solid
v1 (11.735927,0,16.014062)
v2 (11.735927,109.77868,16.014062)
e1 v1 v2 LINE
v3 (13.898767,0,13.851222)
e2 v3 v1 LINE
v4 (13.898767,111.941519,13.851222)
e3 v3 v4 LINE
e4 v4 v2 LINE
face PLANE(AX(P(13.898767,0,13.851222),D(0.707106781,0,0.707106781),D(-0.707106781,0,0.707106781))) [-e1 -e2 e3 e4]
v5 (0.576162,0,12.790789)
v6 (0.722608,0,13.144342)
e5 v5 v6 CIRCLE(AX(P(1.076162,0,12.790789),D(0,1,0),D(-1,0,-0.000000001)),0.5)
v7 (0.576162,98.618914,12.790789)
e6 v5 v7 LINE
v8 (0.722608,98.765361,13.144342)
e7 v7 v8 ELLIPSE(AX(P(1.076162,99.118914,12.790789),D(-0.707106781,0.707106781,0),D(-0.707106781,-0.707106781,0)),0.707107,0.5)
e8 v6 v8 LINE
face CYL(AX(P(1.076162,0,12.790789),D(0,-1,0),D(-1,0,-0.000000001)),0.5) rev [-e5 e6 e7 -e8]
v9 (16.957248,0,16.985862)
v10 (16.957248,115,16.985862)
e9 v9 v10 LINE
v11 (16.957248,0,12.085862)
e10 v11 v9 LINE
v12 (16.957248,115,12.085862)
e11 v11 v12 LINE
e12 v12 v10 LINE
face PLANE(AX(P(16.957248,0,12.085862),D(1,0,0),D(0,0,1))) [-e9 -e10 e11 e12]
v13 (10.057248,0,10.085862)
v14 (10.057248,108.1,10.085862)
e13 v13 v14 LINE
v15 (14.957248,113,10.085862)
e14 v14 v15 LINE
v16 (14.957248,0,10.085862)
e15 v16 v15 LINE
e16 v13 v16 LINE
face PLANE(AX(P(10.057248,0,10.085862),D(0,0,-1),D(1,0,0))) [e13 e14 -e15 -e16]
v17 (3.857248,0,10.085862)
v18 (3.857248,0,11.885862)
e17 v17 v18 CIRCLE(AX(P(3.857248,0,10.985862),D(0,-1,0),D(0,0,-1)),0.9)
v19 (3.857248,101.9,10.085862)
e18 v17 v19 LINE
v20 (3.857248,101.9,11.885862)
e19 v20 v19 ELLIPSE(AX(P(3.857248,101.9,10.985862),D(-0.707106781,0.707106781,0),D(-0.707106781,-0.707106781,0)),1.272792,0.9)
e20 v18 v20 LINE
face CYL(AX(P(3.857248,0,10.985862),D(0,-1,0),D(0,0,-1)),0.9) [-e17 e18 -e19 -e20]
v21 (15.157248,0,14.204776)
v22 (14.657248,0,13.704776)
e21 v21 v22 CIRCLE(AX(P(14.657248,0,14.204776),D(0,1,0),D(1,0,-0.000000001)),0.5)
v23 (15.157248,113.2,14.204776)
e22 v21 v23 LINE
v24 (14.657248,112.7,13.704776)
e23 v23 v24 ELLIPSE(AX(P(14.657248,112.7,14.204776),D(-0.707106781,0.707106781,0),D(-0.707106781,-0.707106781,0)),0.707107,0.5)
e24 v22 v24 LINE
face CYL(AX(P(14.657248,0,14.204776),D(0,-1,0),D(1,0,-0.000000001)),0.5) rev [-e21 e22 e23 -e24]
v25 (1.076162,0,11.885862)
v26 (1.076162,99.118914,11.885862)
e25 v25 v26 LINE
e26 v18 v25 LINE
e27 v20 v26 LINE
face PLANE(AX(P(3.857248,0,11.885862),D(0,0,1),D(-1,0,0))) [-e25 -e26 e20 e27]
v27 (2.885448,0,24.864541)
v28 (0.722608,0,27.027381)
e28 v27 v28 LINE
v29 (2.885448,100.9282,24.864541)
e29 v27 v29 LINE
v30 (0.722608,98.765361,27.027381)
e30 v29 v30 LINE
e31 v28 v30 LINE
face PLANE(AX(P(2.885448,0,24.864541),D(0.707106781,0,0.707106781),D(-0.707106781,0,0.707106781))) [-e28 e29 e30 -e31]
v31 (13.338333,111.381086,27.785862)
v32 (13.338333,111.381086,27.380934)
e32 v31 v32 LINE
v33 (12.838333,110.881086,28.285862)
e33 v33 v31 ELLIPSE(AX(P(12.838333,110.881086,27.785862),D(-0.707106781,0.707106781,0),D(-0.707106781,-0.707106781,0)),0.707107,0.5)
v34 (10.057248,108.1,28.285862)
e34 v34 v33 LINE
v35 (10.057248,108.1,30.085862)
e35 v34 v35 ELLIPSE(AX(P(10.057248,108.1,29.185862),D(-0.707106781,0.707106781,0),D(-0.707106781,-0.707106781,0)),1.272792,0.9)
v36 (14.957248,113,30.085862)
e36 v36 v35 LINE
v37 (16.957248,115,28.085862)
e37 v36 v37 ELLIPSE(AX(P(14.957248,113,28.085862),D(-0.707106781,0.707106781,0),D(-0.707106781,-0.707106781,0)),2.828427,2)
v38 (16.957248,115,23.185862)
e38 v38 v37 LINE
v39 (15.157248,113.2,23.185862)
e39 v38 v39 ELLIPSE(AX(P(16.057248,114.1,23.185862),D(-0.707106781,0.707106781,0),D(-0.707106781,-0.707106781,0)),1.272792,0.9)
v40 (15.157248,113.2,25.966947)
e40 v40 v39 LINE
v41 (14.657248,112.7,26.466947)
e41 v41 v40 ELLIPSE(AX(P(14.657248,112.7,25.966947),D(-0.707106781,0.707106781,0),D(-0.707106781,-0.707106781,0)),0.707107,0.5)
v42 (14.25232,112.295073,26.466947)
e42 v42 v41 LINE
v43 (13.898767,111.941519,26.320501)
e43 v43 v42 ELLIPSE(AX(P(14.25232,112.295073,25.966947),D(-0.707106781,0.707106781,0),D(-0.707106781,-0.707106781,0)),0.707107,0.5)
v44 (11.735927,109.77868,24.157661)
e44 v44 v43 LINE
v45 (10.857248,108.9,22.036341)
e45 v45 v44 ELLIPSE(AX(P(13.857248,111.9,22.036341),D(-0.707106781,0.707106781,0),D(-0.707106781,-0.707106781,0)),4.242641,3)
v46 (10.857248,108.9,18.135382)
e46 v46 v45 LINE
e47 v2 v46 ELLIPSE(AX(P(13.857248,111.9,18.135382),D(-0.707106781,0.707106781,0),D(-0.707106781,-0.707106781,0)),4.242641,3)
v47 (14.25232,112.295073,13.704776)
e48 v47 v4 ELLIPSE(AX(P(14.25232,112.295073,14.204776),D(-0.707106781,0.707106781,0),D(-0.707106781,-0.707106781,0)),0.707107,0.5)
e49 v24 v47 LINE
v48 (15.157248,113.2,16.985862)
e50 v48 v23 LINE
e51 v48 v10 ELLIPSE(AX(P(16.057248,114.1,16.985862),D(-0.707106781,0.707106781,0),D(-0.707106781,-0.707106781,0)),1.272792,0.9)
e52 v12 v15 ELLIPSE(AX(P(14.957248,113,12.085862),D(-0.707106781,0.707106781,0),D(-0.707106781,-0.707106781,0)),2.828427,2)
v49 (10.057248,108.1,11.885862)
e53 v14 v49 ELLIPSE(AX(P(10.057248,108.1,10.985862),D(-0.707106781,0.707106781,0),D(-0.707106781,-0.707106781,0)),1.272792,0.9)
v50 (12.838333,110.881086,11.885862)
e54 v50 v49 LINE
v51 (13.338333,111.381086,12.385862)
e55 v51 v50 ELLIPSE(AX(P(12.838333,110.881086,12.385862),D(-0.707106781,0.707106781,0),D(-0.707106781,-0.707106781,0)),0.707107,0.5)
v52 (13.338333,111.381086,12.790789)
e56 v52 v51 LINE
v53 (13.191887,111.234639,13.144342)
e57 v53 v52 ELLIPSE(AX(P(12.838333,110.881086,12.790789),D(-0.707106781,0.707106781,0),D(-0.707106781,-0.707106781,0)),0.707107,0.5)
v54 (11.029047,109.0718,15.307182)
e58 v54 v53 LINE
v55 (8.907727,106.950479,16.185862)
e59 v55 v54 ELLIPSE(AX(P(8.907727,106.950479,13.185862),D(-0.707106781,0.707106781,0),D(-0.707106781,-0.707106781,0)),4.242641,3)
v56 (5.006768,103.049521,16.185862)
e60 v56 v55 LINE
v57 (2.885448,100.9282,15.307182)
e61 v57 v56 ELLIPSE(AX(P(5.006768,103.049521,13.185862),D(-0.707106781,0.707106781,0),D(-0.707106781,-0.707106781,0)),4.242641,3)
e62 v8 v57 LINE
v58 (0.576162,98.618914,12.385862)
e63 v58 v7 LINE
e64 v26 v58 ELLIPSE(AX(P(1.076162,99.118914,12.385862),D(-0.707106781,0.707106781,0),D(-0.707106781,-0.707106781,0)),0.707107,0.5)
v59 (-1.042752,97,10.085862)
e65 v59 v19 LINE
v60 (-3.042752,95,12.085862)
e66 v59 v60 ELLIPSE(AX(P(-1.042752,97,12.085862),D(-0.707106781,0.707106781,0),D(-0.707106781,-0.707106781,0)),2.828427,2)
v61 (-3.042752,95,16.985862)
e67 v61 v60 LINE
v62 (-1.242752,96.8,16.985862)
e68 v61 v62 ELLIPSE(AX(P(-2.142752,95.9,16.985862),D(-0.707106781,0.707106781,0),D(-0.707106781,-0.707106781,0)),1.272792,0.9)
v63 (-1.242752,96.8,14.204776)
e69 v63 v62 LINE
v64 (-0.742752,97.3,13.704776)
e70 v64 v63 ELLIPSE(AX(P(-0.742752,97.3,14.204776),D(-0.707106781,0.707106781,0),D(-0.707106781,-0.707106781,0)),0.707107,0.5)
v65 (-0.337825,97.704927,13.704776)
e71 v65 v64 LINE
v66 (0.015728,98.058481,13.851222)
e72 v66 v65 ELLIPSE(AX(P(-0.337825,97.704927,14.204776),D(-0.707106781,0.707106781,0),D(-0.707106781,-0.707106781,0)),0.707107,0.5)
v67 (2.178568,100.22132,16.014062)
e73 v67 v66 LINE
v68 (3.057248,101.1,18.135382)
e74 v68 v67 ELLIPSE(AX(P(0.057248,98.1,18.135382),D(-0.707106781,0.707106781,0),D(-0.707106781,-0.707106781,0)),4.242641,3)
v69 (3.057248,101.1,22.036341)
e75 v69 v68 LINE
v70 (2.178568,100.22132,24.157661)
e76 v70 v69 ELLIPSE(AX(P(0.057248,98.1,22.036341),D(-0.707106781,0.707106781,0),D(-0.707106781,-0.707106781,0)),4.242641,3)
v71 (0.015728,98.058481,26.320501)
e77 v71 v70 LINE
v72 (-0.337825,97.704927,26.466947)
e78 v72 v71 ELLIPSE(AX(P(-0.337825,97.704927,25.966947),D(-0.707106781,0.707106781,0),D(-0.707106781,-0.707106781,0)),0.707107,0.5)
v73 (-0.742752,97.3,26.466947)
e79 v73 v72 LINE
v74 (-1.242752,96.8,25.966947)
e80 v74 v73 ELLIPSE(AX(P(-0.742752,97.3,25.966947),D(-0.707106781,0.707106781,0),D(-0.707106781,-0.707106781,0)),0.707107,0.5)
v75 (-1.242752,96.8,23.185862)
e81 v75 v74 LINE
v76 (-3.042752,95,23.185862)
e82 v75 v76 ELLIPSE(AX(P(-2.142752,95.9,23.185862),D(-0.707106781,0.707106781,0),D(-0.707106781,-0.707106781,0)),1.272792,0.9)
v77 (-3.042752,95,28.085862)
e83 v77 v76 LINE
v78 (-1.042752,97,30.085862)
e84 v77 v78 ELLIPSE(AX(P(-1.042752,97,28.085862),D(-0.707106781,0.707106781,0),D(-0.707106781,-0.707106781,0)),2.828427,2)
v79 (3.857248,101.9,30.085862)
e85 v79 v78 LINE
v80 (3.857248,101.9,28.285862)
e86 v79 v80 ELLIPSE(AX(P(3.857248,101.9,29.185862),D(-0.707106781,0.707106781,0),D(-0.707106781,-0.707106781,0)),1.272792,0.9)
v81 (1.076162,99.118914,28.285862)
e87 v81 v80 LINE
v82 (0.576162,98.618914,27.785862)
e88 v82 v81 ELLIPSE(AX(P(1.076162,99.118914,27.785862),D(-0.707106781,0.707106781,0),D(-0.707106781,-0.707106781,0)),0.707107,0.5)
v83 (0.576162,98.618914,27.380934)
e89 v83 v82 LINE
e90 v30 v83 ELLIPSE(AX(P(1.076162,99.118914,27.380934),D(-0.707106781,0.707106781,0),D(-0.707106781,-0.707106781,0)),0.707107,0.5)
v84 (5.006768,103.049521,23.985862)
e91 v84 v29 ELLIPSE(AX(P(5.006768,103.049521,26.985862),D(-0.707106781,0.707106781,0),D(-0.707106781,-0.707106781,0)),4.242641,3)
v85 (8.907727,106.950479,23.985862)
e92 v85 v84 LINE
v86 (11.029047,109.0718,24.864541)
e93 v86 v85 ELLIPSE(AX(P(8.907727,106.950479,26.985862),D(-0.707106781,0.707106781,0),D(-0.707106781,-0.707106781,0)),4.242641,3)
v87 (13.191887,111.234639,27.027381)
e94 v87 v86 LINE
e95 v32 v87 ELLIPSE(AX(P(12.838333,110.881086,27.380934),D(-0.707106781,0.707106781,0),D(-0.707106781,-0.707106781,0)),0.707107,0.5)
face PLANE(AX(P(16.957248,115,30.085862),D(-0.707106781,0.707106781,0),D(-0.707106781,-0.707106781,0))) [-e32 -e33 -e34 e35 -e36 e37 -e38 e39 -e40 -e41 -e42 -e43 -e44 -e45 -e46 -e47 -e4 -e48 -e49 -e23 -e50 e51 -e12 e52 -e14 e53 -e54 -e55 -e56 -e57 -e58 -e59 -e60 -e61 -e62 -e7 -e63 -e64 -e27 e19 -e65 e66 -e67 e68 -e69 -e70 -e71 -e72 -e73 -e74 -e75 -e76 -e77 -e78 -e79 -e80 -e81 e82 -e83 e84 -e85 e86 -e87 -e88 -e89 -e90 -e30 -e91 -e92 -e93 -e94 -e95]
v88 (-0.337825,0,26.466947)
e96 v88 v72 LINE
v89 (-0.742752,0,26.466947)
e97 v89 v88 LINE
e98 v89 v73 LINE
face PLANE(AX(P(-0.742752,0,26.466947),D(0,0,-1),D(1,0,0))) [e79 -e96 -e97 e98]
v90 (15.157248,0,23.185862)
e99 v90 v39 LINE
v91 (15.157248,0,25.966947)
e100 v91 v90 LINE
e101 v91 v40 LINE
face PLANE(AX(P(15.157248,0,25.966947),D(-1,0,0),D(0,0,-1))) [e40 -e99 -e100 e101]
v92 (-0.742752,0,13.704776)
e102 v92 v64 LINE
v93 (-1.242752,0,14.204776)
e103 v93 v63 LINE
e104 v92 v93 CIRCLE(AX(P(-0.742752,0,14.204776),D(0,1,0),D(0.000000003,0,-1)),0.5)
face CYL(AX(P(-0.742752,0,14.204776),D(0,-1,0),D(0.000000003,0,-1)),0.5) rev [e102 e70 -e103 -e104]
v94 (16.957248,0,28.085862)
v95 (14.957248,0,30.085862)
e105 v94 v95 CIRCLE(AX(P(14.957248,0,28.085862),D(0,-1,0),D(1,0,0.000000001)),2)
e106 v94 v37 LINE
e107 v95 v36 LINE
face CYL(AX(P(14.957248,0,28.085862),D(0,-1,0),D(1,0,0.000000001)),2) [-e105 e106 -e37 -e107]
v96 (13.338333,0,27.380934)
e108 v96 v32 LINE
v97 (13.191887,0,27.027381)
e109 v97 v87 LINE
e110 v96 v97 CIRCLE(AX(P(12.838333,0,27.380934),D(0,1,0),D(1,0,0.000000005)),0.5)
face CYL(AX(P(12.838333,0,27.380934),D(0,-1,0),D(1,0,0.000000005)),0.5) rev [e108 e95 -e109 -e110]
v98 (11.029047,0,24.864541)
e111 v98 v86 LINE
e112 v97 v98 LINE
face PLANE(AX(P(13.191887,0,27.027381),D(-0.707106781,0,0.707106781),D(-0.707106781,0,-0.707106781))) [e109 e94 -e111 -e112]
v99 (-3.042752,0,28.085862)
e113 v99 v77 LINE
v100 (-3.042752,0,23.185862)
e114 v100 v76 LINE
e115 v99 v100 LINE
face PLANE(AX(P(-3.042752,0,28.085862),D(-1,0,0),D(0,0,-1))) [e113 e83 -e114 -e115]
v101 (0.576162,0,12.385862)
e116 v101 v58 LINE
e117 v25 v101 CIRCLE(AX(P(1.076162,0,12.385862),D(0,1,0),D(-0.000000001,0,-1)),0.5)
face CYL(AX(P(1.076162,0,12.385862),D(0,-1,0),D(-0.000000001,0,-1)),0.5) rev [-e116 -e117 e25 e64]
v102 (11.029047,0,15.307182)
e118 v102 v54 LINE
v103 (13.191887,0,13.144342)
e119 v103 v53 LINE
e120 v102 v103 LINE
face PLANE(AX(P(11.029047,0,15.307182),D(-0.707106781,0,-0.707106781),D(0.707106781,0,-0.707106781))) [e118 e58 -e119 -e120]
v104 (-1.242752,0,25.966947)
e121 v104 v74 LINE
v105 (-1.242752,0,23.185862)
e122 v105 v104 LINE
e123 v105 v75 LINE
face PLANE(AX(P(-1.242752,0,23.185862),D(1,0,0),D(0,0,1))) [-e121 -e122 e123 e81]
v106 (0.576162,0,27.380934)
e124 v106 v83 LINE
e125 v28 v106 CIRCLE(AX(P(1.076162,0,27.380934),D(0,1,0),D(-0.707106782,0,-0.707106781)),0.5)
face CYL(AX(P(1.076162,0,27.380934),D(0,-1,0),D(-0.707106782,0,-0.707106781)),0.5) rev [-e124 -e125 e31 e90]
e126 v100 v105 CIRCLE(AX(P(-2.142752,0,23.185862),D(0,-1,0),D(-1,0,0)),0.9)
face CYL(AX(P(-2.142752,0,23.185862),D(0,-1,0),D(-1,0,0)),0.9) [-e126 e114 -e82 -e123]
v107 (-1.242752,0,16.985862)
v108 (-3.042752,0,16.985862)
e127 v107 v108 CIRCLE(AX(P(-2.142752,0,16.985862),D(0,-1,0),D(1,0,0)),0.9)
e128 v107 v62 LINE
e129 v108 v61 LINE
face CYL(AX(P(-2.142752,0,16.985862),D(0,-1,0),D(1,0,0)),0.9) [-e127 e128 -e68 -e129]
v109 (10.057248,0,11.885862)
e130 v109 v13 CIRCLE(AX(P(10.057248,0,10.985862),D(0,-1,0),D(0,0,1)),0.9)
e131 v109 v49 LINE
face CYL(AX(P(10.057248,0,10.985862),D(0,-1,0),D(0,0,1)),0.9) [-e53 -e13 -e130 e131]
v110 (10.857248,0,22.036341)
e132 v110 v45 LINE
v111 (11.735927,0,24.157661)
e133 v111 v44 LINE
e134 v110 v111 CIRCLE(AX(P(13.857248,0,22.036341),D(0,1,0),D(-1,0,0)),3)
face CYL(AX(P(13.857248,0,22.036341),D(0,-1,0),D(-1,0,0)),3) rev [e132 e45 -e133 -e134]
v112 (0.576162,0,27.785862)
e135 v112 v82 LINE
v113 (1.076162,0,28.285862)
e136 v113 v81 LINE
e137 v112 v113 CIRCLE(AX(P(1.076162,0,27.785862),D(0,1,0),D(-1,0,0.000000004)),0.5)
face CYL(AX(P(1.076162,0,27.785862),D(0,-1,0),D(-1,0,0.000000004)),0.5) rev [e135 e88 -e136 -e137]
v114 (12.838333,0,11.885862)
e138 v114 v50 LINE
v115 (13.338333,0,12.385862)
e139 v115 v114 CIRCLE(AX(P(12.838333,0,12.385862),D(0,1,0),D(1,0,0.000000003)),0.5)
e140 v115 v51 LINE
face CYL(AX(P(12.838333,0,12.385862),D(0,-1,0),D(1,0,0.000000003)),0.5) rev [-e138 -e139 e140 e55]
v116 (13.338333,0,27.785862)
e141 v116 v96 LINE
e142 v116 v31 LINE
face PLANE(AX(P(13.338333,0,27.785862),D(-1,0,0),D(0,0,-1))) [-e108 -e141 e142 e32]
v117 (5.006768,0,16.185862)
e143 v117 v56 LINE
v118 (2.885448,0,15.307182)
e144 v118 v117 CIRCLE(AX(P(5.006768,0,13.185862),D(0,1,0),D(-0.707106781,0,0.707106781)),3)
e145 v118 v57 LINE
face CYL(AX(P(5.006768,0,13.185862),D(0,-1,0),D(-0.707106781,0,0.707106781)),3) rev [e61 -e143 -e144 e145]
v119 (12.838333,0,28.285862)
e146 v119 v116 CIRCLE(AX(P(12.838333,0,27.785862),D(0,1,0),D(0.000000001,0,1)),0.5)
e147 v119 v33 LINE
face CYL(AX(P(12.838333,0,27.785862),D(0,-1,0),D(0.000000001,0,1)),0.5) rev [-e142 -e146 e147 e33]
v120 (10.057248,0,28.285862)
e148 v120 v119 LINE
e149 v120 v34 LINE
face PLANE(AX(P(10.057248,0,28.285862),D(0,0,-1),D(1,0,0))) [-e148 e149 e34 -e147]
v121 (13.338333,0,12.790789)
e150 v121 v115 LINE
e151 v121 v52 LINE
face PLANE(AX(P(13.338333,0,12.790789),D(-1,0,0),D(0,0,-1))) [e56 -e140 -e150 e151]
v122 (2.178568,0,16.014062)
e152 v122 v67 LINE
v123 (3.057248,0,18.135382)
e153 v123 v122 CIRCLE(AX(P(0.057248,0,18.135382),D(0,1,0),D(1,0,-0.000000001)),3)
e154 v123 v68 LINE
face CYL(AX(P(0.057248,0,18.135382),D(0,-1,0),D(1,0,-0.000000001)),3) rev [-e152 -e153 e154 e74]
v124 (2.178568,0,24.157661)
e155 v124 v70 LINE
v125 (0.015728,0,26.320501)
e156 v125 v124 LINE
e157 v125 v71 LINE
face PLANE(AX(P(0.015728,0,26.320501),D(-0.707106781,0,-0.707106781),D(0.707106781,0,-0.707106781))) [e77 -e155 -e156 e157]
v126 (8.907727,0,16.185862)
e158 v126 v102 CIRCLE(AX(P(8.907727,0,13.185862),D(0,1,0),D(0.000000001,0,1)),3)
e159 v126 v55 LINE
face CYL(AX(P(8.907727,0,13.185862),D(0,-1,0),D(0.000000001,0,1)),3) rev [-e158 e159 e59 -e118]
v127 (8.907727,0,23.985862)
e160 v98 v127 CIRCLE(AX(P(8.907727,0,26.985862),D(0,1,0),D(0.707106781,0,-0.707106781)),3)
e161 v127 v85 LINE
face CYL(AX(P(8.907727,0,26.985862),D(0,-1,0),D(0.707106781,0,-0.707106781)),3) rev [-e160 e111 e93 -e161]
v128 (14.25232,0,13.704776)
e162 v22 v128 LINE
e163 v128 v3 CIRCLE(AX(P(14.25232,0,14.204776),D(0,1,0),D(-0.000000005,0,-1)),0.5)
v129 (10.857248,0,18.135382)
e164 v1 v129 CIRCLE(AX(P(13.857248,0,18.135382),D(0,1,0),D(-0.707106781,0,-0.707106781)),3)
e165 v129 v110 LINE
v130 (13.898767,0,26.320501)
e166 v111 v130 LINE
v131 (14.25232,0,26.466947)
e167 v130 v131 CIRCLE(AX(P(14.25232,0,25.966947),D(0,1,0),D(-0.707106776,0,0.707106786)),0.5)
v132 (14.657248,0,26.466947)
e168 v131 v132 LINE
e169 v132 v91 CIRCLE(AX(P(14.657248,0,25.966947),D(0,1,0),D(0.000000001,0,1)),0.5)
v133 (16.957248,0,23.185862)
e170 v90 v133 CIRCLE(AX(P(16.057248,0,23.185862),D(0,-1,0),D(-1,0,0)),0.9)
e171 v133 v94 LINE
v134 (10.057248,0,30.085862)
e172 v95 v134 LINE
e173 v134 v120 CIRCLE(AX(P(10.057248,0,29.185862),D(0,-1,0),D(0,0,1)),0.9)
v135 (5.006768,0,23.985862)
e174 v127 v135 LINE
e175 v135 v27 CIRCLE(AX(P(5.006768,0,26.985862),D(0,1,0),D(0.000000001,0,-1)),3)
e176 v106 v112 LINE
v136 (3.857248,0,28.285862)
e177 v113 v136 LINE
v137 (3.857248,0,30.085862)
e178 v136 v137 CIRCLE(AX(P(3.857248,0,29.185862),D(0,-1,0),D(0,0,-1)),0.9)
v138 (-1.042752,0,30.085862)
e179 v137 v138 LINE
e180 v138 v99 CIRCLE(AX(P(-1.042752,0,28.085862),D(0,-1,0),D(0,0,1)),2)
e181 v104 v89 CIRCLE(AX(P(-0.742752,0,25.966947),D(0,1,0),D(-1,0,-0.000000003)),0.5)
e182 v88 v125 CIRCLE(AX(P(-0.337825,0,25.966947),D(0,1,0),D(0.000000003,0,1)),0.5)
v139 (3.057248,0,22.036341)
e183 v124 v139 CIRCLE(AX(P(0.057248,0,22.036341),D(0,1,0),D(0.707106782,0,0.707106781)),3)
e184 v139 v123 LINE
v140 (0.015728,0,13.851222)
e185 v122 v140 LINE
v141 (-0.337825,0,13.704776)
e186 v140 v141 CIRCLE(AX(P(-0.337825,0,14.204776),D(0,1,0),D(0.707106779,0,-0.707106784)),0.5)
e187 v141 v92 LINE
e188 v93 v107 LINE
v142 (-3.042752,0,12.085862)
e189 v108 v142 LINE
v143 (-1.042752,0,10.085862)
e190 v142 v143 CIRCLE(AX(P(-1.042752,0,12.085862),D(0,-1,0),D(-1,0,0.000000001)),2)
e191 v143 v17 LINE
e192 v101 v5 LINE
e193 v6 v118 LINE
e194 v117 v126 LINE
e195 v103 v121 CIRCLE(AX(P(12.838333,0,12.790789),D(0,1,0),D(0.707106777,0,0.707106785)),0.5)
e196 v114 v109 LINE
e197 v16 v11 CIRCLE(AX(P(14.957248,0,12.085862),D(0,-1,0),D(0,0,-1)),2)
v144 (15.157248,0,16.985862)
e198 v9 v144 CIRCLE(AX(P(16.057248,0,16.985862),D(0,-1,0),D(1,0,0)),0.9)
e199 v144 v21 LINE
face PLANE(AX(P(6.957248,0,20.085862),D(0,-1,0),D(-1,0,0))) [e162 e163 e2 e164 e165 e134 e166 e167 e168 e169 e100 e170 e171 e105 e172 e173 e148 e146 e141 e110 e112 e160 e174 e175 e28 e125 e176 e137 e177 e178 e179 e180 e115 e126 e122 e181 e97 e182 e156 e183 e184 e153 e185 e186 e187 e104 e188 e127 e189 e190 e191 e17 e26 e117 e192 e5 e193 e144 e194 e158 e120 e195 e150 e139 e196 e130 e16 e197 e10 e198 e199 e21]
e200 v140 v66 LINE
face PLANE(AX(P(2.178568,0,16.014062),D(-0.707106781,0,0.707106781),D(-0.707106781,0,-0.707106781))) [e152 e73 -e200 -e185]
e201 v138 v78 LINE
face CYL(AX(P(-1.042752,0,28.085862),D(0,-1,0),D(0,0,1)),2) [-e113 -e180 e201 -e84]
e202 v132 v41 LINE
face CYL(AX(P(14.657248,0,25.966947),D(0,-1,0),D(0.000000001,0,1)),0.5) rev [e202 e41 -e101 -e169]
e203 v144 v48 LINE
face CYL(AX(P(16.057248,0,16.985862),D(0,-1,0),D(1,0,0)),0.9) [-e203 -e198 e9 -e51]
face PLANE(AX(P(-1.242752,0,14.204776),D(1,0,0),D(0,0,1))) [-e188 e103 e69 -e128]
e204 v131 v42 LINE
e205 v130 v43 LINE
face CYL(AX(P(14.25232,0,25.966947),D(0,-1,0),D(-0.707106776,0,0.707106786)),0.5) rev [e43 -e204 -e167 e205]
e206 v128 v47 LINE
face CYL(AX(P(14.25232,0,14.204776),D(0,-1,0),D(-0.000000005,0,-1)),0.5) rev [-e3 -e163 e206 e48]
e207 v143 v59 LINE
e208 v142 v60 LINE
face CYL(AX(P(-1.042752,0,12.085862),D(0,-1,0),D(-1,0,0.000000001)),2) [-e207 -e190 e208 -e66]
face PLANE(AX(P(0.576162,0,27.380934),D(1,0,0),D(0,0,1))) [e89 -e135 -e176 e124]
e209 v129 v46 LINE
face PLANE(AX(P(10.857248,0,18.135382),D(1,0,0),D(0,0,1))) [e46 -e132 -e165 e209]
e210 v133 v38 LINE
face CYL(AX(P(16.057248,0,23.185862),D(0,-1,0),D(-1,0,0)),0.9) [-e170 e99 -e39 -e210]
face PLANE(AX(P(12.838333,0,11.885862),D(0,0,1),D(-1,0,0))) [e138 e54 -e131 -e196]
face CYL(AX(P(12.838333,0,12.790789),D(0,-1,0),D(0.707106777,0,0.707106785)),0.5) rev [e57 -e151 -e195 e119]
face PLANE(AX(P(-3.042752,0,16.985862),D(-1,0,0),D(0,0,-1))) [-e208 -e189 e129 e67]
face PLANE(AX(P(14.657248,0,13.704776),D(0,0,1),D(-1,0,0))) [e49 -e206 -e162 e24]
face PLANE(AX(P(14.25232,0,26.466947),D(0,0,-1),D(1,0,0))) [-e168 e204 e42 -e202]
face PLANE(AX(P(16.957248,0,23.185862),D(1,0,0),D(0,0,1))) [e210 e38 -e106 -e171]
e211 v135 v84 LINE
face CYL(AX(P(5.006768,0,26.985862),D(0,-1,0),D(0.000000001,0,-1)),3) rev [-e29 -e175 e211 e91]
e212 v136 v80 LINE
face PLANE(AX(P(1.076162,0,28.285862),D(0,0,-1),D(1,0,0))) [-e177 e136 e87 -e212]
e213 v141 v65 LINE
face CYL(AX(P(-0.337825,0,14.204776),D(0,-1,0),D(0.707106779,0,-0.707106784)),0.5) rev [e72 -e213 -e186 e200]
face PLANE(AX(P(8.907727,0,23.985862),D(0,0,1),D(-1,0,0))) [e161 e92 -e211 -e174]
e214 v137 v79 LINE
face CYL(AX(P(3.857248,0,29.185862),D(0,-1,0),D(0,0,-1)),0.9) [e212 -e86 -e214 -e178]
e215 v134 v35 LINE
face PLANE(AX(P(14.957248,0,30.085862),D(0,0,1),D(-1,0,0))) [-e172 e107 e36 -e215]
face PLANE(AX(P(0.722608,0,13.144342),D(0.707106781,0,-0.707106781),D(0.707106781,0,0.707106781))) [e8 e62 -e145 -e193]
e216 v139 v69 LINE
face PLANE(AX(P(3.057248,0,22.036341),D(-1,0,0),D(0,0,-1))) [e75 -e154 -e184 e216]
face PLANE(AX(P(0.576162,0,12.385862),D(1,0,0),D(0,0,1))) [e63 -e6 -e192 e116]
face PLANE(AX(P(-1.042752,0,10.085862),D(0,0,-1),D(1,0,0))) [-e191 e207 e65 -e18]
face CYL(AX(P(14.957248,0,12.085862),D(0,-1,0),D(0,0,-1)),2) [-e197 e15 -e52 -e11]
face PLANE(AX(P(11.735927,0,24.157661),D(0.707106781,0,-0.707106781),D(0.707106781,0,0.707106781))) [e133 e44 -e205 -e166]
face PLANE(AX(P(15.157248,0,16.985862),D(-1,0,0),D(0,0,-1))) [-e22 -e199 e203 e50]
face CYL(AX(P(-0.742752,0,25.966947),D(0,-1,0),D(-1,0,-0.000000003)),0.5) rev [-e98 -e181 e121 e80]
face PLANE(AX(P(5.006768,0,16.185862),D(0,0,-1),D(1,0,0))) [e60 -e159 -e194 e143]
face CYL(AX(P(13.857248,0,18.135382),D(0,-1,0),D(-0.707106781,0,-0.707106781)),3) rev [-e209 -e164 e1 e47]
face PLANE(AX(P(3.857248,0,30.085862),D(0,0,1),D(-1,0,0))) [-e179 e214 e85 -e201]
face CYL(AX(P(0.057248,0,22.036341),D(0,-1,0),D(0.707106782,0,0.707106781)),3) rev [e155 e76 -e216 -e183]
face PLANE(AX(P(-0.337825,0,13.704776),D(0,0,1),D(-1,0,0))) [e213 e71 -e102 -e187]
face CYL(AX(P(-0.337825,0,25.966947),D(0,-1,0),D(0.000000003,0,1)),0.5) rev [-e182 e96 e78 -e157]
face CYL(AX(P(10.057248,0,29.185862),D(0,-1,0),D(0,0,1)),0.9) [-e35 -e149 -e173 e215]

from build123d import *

# Parameters (mm, degrees)
EXTRUDE_1_DEPTH     = 115
CUT_EXTRUDE_1_DEPTH = 118.951465627


with BuildPart() as part:
    # 草图1 → 凸台-拉伸1 (new body)
    with BuildSketch(Plane(origin=(0, 0, 0), x_dir=(1, 0, 0), z_dir=(0, 1, 0))):
        with BuildLine():
            Line((-1.042752475, -10.085861632), (3.857247525, -10.085861632))
            ThreePointArc((3.857247525, -10.085861632), (4.757247525, -10.985861632), (3.857247525, -11.885861632))
            Line((3.857247525, -11.885861632), (1.076161722, -11.885861632))
            ThreePointArc((1.076161722, -11.885861632), (0.722608332, -12.032308241), (0.576161722, -12.385861632))
            Line((0.576161722, -12.385861632), (0.576161722, -12.790788968))
            ThreePointArc((0.576161722, -12.790788968), (0.614221956, -12.982130685), (0.722608332, -13.144342359))
            Line((0.722608332, -13.144342359), (2.885447948, -15.307181975))
            ThreePointArc((2.885447948, -15.307181975), (3.858717994, -15.957500229), (5.006768291, -16.185861632))
            Line((5.006768291, -16.185861632), (8.907726758, -16.185861632))
            ThreePointArc((8.907726758, -16.185861632), (10.055777055, -15.957500229), (11.029047102, -15.307181975))
            Line((11.029047102, -15.307181975), (13.191886718, -13.144342359))
            ThreePointArc((13.191886718, -13.144342359), (13.300273094, -12.982130685), (13.338333327, -12.790788968))
            Line((13.338333327, -12.790788968), (13.338333327, -12.385861632))
            ThreePointArc((13.338333327, -12.385861632), (13.191886718, -12.032308241), (12.838333327, -11.885861632))
            Line((12.838333327, -11.885861632), (10.057247525, -11.885861632))
            ThreePointArc((10.057247525, -11.885861632), (9.157247525, -10.985861632), (10.057247525, -10.085861632))
            Line((10.057247525, -10.085861632), (14.957247525, -10.085861632))
            ThreePointArc((14.957247525, -10.085861632), (16.371461087, -10.671648069), (16.957247525, -12.085861632))
            Line((16.957247525, -12.085861632), (16.957247525, -16.985861632))
            ThreePointArc((16.957247525, -16.985861632), (16.057247525, -17.885861632), (15.157247525, -16.985861632))
            Line((15.157247525, -16.985861632), (15.157247525, -14.204775829))
            ThreePointArc((15.157247525, -14.204775829), (15.010800915, -13.851222438), (14.657247525, -13.704775829))
            Line((14.657247525, -13.704775829), (14.252320188, -13.704775829))
            ThreePointArc((14.252320188, -13.704775829), (14.060978472, -13.742836063), (13.898766797, -13.851222438))
            Line((13.898766797, -13.851222438), (11.735927181, -16.014062054))
            ThreePointArc((11.735927181, -16.014062054), (11.085608927, -16.987332101), (10.857247525, -18.135382398))
            Line((10.857247525, -18.135382398), (10.857247525, -22.036340865))
            ThreePointArc((10.857247525, -22.036340865), (11.085608927, -23.184391162), (11.735927181, -24.157661209))
            Line((11.735927181, -24.157661209), (13.898766797, -26.320500825))
            ThreePointArc((13.898766797, -26.320500825), (14.060978472, -26.4288872), (14.252320188, -26.466947434))
            Line((14.252320188, -26.466947434), (14.657247525, -26.466947434))
            ThreePointArc((14.657247525, -26.466947434), (15.010800915, -26.320500825), (15.157247525, -25.966947434))
            Line((15.157247525, -25.966947434), (15.157247525, -23.185861632))
            ThreePointArc((15.157247525, -23.185861632), (16.057247525, -22.285861632), (16.957247525, -23.185861632))
            Line((16.957247525, -23.185861632), (16.957247525, -28.085861632))
            ThreePointArc((16.957247525, -28.085861632), (16.371461087, -29.500075194), (14.957247525, -30.085861632))
            Line((14.957247525, -30.085861632), (10.057247525, -30.085861632))
            ThreePointArc((10.057247525, -30.085861632), (9.157247525, -29.185861632), (10.057247525, -28.285861632))
            Line((10.057247525, -28.285861632), (12.838333327, -28.285861632))
            ThreePointArc((12.838333327, -28.285861632), (13.191886718, -28.139415022), (13.338333327, -27.785861632))
            Line((13.338333327, -27.785861632), (13.338333327, -27.380934295))
            ThreePointArc((13.338333327, -27.380934295), (13.300273094, -27.189592579), (13.191886718, -27.027380904))
            Line((13.191886718, -27.027380904), (11.029047102, -24.864541288))
            ThreePointArc((11.029047102, -24.864541288), (10.055777055, -24.214223034), (8.907726758, -23.985861632))
            Line((8.907726758, -23.985861632), (5.006768291, -23.985861632))
            ThreePointArc((5.006768291, -23.985861632), (3.858717994, -24.214223034), (2.885447948, -24.864541288))
            Line((2.885447948, -24.864541288), (0.722608332, -27.027380904))
            ThreePointArc((0.722608332, -27.027380904), (0.614221956, -27.189592579), (0.576161722, -27.380934295))
            Line((0.576161722, -27.380934295), (0.576161722, -27.785861632))
            ThreePointArc((0.576161722, -27.785861632), (0.722608332, -28.139415022), (1.076161722, -28.285861632))
            Line((1.076161722, -28.285861632), (3.857247525, -28.285861632))
            ThreePointArc((3.857247525, -28.285861632), (4.757247525, -29.185861632), (3.857247525, -30.085861632))
            Line((3.857247525, -30.085861632), (-1.042752475, -30.085861632))
            ThreePointArc((-1.042752475, -30.085861632), (-2.456966038, -29.500075194), (-3.042752475, -28.085861632))
            Line((-3.042752475, -28.085861632), (-3.042752475, -23.185861632))
            ThreePointArc((-3.042752475, -23.185861632), (-2.142752475, -22.285861632), (-1.242752475, -23.185861632))
            Line((-1.242752475, -23.185861632), (-1.242752475, -25.966947434))
            ThreePointArc((-1.242752475, -25.966947434), (-1.096305866, -26.320500825), (-0.742752475, -26.466947434))
            Line((-0.742752475, -26.466947434), (-0.337825138, -26.466947434))
            ThreePointArc((-0.337825138, -26.466947434), (-0.146483422, -26.4288872), (0.015728252, -26.320500825))
            Line((0.015728252, -26.320500825), (2.178567868, -24.157661209))
            ThreePointArc((2.178567868, -24.157661209), (2.828886122, -23.184391162), (3.057247525, -22.036340865))
            Line((3.057247525, -22.036340865), (3.057247525, -18.135382398))
            ThreePointArc((3.057247525, -18.135382398), (2.828886122, -16.987332101), (2.178567868, -16.014062054))
            Line((2.178567868, -16.014062054), (0.015728252, -13.851222438))
            ThreePointArc((0.015728252, -13.851222438), (-0.146483422, -13.742836063), (-0.337825138, -13.704775829))
            Line((-0.337825138, -13.704775829), (-0.742752475, -13.704775829))
            ThreePointArc((-0.742752475, -13.704775829), (-1.096305866, -13.851222438), (-1.242752475, -14.204775829))
            Line((-1.242752475, -14.204775829), (-1.242752475, -16.985861632))
            ThreePointArc((-1.242752475, -16.985861632), (-2.142752475, -17.885861632), (-3.042752475, -16.985861632))
            Line((-3.042752475, -16.985861632), (-3.042752475, -12.085861632))
            ThreePointArc((-3.042752475, -12.085861632), (-2.456966038, -10.671648069), (-1.042752475, -10.085861632))
        make_face()
    extrude(amount=EXTRUDE_1_DEPTH)

    # 草图2 → 切除-拉伸1 (cut, through all)
    with BuildSketch(Plane.XY.offset(30.085861632)):
        Polygon((16.957247525, 115), (-3.042752475, 95), (-3.042752475, 115), align=None)
    extrude(amount=-CUT_EXTRUDE_1_DEPTH, mode=Mode.SUBTRACT)


solid = part.part
